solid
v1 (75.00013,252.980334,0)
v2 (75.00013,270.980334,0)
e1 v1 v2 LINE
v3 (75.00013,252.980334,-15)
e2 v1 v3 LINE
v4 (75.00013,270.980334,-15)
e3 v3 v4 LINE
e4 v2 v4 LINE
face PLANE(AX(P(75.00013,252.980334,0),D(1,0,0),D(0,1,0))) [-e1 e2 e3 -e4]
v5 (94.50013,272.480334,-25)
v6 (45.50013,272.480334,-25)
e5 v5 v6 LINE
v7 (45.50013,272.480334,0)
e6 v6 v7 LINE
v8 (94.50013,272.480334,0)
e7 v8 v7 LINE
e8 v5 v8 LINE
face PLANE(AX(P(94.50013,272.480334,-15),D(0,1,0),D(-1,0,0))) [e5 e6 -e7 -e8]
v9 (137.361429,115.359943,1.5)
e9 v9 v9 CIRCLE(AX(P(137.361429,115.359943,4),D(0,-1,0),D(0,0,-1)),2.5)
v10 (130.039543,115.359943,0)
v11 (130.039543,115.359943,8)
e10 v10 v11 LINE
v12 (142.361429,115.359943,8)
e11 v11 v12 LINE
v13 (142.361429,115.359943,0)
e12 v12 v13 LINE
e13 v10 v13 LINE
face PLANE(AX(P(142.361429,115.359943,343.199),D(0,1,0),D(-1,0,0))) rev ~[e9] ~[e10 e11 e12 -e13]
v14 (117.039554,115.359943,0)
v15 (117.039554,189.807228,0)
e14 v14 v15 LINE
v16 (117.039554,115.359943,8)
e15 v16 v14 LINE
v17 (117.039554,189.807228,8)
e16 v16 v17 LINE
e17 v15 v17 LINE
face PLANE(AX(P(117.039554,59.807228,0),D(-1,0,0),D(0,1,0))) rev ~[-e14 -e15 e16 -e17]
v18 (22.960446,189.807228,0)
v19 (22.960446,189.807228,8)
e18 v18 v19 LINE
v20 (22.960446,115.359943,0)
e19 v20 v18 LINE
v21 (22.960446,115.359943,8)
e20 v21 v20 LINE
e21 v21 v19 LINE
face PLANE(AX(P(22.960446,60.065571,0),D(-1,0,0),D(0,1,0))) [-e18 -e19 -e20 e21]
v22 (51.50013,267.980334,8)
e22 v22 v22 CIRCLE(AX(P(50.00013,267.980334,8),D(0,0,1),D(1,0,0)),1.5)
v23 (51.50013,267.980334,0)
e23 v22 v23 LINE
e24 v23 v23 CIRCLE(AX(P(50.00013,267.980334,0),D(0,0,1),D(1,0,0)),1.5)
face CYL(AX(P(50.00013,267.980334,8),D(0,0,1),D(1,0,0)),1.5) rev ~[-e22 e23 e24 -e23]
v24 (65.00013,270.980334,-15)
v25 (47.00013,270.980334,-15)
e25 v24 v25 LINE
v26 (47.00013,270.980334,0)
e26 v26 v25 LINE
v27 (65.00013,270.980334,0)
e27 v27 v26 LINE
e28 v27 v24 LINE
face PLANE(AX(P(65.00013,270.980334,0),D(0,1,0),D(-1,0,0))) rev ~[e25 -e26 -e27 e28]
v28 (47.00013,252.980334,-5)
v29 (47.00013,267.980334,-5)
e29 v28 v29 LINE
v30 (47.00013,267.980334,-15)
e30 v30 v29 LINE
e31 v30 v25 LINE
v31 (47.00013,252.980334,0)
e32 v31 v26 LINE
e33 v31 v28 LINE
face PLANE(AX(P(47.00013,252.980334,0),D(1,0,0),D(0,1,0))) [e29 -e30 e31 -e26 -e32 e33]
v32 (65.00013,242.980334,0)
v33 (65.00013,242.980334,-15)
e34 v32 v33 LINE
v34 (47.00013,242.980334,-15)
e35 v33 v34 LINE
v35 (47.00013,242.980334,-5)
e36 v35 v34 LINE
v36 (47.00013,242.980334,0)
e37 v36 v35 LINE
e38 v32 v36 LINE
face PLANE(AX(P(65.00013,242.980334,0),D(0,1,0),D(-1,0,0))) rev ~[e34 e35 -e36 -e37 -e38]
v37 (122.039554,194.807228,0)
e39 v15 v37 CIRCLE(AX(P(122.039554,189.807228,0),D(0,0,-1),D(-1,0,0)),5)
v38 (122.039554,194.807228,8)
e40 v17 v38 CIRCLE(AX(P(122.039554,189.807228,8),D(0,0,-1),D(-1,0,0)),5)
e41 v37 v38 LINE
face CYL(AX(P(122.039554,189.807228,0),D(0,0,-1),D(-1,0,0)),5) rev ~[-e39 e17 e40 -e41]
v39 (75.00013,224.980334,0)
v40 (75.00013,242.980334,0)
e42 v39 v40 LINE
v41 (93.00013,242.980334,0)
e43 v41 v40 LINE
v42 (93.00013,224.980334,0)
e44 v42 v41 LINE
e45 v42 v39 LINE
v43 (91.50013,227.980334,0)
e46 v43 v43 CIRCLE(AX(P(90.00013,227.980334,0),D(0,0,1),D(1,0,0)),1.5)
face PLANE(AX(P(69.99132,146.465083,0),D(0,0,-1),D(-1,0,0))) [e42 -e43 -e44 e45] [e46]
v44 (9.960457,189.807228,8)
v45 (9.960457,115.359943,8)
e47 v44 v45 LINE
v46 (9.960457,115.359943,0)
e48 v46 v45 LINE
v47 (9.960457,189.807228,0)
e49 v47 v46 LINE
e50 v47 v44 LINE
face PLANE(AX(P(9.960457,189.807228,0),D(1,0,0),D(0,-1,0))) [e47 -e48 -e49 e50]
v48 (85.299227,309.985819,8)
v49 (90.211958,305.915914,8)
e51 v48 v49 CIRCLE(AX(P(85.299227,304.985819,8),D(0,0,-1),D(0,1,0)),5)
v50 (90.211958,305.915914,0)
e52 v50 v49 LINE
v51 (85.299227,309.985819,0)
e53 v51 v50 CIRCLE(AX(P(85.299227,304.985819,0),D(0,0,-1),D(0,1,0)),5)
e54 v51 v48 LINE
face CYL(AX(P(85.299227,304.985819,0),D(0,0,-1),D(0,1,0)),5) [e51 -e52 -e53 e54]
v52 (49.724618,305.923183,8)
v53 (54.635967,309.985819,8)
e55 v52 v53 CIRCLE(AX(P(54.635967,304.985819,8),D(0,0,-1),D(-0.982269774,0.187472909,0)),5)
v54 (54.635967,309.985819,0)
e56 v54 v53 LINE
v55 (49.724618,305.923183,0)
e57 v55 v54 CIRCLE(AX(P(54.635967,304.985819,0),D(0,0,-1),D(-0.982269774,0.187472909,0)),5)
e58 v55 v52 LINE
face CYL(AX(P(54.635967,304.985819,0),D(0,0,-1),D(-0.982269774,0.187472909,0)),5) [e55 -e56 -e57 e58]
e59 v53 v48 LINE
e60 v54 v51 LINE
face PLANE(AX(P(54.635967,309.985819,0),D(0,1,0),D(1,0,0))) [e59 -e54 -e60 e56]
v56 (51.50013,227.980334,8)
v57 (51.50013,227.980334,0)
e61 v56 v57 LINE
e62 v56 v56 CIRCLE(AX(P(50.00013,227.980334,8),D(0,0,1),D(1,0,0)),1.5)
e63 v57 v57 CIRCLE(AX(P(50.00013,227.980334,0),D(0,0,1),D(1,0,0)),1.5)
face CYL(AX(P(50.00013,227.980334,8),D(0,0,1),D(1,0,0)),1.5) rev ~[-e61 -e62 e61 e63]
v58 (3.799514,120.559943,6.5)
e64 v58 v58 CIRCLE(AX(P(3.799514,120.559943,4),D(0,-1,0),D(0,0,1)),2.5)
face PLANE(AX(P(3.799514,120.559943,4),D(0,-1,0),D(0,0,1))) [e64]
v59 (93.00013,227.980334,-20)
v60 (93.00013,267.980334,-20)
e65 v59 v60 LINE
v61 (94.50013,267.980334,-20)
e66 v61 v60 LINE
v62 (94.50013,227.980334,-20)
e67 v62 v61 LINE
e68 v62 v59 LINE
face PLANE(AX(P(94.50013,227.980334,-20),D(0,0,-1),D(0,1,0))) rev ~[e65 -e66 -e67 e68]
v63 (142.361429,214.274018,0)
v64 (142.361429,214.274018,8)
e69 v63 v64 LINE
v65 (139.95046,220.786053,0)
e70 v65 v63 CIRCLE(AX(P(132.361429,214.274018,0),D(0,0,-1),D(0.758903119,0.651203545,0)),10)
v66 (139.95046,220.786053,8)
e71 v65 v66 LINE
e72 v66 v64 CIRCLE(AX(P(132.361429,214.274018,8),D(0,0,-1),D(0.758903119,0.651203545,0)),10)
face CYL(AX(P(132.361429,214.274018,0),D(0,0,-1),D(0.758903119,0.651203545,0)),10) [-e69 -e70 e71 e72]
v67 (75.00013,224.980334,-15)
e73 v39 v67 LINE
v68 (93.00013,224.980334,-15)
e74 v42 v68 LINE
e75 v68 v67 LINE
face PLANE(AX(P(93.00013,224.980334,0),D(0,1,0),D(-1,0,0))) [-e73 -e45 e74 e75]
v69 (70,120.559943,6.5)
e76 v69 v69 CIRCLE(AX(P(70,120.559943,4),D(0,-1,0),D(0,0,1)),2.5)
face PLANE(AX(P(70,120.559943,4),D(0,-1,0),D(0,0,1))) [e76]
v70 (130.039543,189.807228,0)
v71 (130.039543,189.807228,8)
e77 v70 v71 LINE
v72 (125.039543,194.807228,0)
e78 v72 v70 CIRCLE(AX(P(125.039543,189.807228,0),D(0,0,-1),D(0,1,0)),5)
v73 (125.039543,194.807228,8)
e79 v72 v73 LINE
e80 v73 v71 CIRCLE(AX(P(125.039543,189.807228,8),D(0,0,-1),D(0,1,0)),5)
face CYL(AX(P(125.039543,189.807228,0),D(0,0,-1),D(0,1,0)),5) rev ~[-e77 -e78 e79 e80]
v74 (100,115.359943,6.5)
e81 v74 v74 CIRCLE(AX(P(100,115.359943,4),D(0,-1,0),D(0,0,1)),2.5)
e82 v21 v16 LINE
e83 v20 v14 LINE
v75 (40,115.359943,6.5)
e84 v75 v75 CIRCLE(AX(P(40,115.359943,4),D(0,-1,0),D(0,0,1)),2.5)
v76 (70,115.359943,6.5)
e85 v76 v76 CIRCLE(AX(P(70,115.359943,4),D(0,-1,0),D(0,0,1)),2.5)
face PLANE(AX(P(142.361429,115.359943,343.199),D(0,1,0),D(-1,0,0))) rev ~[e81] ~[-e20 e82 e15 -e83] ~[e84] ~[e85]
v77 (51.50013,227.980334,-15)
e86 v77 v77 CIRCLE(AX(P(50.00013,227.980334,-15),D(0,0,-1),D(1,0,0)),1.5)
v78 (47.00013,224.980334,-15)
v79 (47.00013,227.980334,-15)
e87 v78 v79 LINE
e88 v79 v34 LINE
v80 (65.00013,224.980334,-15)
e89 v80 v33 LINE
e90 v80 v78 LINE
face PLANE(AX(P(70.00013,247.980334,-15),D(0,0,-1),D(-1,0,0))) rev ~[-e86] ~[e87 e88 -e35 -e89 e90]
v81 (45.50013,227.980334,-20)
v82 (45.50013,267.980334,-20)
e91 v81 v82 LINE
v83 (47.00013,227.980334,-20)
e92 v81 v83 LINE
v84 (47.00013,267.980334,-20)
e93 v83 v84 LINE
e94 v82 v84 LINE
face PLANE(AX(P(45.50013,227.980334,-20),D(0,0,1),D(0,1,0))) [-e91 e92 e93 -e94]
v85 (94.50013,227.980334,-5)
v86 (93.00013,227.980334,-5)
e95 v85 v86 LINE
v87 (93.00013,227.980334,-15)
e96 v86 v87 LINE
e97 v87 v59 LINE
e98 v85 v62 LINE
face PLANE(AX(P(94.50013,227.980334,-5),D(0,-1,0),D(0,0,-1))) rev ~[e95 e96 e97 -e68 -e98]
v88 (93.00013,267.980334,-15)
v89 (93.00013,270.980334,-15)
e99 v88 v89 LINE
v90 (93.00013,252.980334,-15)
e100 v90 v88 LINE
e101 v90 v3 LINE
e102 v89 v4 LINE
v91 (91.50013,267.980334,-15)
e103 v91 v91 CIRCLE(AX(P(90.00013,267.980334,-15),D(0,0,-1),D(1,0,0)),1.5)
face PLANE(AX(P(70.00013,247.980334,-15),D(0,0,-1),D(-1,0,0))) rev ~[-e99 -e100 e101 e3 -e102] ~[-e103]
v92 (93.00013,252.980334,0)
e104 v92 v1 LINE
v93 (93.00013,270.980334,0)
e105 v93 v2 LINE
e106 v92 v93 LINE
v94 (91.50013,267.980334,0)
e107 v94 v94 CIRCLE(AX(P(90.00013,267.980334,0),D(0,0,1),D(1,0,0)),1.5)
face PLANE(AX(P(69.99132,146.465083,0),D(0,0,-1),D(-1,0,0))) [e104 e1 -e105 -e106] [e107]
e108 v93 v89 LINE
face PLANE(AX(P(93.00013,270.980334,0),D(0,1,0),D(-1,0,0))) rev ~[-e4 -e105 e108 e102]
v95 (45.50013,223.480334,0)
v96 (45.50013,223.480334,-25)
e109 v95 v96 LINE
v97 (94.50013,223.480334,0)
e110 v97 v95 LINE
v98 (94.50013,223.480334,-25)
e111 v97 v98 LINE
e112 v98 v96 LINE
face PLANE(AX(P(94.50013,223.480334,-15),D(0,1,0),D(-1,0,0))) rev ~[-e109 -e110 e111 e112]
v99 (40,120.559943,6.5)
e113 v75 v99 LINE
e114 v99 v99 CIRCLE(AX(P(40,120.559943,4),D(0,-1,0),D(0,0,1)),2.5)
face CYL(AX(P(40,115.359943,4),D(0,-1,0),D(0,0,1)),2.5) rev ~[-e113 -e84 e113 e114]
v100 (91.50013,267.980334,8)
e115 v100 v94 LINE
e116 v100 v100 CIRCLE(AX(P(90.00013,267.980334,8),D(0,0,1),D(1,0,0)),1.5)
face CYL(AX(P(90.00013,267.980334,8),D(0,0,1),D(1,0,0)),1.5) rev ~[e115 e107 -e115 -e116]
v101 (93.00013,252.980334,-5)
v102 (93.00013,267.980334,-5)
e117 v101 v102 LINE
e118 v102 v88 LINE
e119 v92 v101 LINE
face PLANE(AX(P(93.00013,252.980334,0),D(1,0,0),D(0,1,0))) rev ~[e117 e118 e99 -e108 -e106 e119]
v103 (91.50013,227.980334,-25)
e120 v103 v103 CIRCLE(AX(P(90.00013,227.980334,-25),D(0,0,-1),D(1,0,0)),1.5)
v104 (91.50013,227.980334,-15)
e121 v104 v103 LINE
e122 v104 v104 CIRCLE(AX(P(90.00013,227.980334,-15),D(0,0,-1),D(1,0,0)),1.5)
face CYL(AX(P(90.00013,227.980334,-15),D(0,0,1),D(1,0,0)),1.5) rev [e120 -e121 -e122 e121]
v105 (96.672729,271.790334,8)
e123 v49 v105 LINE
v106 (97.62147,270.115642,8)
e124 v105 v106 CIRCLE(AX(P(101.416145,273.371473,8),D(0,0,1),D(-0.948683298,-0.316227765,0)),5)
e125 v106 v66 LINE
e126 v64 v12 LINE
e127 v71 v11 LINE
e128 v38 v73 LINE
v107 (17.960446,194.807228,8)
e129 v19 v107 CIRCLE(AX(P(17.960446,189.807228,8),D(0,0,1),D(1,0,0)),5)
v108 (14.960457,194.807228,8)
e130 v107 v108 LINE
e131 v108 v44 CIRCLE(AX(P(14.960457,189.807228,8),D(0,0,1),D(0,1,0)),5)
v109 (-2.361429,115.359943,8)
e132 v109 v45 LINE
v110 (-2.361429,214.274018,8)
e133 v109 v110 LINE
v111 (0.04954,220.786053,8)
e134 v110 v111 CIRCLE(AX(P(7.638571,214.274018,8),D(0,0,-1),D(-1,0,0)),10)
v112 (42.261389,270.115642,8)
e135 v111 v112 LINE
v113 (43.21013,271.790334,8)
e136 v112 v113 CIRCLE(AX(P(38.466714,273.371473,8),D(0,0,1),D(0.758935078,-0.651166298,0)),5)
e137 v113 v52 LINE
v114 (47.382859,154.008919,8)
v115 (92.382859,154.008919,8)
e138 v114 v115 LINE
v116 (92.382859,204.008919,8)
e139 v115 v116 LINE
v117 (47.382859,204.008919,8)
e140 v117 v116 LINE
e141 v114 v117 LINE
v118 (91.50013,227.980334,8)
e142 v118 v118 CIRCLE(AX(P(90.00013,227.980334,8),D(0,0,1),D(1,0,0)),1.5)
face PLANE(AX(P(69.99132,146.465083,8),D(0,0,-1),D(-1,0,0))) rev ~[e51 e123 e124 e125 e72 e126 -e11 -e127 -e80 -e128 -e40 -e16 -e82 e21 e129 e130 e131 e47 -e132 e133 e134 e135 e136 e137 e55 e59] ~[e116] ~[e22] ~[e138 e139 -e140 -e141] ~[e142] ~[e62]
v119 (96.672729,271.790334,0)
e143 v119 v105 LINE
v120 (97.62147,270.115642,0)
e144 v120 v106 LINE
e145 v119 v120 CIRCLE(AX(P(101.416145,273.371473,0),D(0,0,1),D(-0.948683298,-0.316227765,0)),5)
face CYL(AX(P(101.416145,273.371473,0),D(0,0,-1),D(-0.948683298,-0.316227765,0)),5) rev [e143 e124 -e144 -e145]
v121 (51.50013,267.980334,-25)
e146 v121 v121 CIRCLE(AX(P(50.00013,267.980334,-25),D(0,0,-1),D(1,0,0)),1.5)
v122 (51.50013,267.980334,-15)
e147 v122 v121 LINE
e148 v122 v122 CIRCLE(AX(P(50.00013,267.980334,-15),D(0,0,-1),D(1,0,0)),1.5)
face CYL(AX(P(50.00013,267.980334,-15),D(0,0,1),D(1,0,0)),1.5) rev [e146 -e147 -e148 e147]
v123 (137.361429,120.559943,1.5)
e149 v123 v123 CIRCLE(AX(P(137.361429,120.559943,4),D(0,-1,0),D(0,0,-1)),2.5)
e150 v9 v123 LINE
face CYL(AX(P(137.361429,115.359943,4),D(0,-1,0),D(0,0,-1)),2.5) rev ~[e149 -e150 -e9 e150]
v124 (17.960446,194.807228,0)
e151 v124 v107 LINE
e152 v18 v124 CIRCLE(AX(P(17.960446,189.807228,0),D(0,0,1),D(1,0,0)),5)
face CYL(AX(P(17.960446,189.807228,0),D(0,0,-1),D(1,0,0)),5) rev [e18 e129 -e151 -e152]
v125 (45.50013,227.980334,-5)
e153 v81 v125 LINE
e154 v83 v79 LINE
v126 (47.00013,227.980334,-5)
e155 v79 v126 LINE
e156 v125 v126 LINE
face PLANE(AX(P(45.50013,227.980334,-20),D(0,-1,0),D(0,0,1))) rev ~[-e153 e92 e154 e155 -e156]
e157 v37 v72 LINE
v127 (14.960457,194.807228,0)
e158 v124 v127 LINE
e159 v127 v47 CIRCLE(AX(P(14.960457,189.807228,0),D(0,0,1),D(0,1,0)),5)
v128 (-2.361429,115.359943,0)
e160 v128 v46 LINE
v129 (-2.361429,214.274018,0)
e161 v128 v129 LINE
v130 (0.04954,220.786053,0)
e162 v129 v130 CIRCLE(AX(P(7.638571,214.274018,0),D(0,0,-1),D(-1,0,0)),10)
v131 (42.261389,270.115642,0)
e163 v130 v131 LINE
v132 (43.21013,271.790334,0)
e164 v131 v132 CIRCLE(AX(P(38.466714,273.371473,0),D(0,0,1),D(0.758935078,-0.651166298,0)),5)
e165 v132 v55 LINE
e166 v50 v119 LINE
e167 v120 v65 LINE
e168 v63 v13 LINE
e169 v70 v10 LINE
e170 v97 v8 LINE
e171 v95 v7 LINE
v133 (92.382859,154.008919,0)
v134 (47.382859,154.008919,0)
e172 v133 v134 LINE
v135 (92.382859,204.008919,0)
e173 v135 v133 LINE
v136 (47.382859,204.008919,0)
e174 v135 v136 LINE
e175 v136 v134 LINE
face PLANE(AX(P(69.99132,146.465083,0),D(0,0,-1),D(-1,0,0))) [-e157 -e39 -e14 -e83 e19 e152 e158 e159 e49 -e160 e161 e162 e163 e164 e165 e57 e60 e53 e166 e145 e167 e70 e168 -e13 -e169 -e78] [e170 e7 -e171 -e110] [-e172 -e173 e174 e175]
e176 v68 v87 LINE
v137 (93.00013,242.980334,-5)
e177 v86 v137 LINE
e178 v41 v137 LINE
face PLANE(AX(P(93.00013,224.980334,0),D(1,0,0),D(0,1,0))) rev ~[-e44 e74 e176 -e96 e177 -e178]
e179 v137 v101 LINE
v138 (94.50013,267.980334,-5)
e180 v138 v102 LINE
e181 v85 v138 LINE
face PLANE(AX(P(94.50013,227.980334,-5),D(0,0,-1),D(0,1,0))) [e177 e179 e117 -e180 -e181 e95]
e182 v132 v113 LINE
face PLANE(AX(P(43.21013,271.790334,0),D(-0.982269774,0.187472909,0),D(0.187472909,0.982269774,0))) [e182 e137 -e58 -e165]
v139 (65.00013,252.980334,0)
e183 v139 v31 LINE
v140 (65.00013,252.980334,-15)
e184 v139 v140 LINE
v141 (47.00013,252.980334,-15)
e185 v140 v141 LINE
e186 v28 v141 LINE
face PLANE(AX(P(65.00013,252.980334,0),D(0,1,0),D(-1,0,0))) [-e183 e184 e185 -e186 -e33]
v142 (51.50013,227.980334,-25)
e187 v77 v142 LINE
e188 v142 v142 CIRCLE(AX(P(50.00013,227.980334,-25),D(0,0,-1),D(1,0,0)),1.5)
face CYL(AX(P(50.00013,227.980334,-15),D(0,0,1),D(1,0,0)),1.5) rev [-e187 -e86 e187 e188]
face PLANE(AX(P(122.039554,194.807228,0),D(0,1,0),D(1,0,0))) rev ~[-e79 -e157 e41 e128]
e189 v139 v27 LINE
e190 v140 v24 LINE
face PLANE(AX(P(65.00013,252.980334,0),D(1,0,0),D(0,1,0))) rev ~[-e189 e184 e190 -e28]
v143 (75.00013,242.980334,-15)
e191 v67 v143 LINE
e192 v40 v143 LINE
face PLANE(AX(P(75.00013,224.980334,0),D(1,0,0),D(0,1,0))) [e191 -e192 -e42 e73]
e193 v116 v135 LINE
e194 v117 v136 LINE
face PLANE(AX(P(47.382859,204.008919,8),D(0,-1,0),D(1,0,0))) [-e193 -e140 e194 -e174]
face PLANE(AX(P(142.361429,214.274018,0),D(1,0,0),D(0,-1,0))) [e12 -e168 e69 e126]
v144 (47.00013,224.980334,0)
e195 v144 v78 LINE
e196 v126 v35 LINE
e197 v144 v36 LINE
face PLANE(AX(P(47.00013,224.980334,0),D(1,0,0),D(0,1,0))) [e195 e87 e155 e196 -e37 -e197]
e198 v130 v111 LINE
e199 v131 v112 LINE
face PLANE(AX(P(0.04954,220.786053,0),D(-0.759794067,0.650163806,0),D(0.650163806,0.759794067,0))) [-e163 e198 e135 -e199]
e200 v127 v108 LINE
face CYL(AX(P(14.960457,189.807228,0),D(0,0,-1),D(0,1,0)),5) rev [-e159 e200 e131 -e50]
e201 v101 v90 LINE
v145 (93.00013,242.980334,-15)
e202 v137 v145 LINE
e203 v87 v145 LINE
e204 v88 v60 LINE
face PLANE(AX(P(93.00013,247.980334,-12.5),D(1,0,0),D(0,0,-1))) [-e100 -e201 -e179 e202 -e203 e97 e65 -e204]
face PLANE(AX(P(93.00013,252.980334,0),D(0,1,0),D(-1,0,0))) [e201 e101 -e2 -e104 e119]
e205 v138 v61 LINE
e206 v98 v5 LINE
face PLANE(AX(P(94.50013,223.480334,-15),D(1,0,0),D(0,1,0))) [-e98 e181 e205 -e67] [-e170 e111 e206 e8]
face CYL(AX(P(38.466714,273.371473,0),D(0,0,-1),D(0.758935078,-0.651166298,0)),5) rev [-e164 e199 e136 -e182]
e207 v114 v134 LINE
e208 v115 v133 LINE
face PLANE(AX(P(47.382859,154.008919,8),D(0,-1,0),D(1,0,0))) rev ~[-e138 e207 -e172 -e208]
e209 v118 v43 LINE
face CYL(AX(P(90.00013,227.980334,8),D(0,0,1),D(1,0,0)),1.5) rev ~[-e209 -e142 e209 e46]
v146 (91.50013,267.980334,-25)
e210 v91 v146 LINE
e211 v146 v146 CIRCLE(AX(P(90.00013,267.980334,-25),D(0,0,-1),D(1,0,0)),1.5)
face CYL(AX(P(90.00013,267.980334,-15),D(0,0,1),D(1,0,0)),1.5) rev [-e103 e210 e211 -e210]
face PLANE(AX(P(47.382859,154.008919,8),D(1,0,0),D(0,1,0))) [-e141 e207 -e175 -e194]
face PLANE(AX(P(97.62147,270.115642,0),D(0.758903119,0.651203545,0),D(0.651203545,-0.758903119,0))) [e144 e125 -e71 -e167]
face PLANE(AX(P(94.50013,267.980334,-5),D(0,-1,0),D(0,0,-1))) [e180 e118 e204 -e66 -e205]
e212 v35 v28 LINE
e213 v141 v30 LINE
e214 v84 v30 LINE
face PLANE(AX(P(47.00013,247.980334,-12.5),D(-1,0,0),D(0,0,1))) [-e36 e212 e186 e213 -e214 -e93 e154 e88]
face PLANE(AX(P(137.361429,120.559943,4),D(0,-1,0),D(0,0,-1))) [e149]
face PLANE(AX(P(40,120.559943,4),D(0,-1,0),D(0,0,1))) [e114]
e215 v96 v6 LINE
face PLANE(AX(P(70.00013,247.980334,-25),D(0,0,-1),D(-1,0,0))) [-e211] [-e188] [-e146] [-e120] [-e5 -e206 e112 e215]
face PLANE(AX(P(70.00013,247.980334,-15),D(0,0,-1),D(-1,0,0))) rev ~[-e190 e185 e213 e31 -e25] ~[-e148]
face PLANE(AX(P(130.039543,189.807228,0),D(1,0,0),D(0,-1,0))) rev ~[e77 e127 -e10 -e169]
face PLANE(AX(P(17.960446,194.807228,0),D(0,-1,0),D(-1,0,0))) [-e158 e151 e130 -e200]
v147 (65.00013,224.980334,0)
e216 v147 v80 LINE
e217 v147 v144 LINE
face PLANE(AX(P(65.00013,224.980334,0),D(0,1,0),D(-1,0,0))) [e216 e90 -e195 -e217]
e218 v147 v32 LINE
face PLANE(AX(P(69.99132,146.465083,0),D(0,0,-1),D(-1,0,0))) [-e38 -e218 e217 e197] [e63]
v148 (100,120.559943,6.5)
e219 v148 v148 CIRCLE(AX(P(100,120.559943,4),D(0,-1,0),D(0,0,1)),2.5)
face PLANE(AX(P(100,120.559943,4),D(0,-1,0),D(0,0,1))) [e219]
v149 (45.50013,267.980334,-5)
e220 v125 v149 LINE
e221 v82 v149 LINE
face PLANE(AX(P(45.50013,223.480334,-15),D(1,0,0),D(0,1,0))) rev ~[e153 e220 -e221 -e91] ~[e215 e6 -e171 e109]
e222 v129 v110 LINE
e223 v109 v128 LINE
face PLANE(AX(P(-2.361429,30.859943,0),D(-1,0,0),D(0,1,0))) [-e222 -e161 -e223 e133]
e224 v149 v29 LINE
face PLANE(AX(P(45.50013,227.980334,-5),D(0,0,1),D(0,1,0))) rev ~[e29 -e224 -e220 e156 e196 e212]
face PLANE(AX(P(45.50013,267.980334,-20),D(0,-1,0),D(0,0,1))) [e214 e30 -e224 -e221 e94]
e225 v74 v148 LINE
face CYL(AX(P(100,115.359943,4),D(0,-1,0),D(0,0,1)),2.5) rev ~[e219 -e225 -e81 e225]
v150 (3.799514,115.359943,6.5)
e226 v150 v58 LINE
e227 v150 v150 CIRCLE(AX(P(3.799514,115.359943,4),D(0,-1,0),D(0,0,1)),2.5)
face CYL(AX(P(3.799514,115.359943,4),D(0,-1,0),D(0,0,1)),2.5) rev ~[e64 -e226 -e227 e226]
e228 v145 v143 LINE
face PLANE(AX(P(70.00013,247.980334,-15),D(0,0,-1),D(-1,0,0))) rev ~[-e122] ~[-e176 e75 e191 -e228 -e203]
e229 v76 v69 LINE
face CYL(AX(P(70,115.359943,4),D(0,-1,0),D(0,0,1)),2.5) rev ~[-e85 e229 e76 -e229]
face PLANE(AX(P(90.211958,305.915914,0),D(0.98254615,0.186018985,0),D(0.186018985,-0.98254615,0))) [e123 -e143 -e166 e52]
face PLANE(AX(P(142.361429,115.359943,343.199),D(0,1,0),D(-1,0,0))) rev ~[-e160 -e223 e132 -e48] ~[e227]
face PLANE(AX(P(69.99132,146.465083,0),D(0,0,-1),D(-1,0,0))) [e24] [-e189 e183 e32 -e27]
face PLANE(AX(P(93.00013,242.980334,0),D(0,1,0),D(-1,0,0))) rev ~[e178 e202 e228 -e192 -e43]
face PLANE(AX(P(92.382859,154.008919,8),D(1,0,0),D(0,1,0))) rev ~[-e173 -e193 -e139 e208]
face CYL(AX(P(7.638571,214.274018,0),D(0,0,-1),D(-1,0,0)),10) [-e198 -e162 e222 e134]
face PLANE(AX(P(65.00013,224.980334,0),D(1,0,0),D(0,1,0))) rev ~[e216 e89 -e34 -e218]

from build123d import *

# Parameters (mm, degrees)
BOSS_EXTRUDE1_DEPTH    = 8
SKETCH2_W              = 45
SKETCH2_H              = 50
CUT_EXTRUDE1_DEPTH     = 342.206659287
SPLIT1_SURFACE_1_BACK  = 343.199
SPLIT1_SURFACE_1_DEPTH = 686.398
SPLIT1_SURFACE_2_BACK  = 343.199
SPLIT1_SURFACE_2_DEPTH = 686.398
SKETCH5_R              = 2.5
CUT_EXTRUDE6_DEPTH     = 5.2
SKETCH4_R              = 2.5
CUT_EXTRUDE7_DEPTH     = 5.2
SKETCH6_R              = 1.5
CUT_EXTRUDE8_DEPTH     = 342.206659287
SKETCH7_W              = 49
SKETCH7_H              = 49
SKETCH7_W_2            = 18
SKETCH7_H_2            = 18
BOSS_EXTRUDE2_DEPTH    = 15
SKETCH8_W              = 49
SKETCH8_H              = 49
SKETCH8_R              = 1.5
BOSS_EXTRUDE3_DEPTH    = 10
SKETCH9_W              = 15
SKETCH9_H              = 40
CUT_EXTRUDE9_DEPTH     = 1.5
SKETCH11_W             = 15
SKETCH11_H             = 40
CUT_EXTRUDE10_DEPTH    = 1.5


with BuildPart() as part:
    # Sketch1 → Boss-Extrude1 (new body)
    with BuildSketch(Plane.XY):
        with BuildLine():
            Line((70, 309.985818768), (85.299227191, 309.985818768))
            ThreePointArc((85.299227191, 309.985818768), (88.489017574, 308.836174247), (90.211957942, 305.915913694))
            Line((90.211957942, 305.915913694), (96.672728921, 271.790334282))
            ThreePointArc((96.672728921, 271.790334282), (97.06575438, 270.906904614), (97.621470019, 270.115641625))
            Line((97.621470019, 270.115641625), (139.950460317, 220.786053348))
            ThreePointArc((139.950460317, 220.786053348), (141.739336996, 217.746026552), (142.361429131, 214.274017901))
            Line((142.361429131, 214.274017901), (142.361429131, 30.859943174))
            ThreePointArc((142.361429131, 30.859943174), (140.896963037, 27.324409268), (137.361429131, 25.859943174))
            Line((137.361429131, 25.859943174), (114.717190871, 25.782318449))
            ThreePointArc((114.717190871, 25.782318449), (112.681998989, 25.341726514), (111.002773989, 24.110332733))
            Line((111.002773989, 24.110332733), (89.38285929, 0))
            Line((89.38285929, 0), (50.5, 0))
            Line((50.5, 0), (28.997226011, 24.110332733))
            ThreePointArc((28.997226011, 24.110332733), (27.318001011, 25.341726514), (25.282809129, 25.782318449))
            Line((25.282809129, 25.782318449), (2.638570869, 25.859943174))
            ThreePointArc((2.638570869, 25.859943174), (-0.896963037, 27.324409268), (-2.361429131, 30.859943174))
            Line((-2.361429131, 30.859943174), (-2.361429131, 214.274017901))
            ThreePointArc((-2.361429131, 214.274017901), (-1.739336996, 217.746026552), (0.049539683, 220.786053348))
            Line((0.049539683, 220.786053348), (42.261389271, 270.115641625))
            ThreePointArc((42.261389271, 270.115641625), (42.81710491, 270.906904614), (43.210130369, 271.790334282))
            Line((43.210130369, 271.790334282), (49.724618218, 305.923183314))
            ThreePointArc((49.724618218, 305.923183314), (51.449026762, 308.838533573), (54.635967087, 309.985818768))
            Line((54.635967087, 309.985818768), (70, 309.985818768))
        make_face()
        with BuildLine():
            Line((15.218798766, 54.807228462), (17.702103505, 54.807228462))
            ThreePointArc((17.702103505, 54.807228462), (21.420312934, 56.347361236), (22.960445707, 60.065570665))
            Line((22.960445707, 60.065570665), (22.960445707, 189.807228462))
            ThreePointArc((22.960445707, 189.807228462), (21.495979613, 193.342762368), (17.960445707, 194.807228462))
            Line((17.960445707, 194.807228462), (14.960456564, 194.807228462))
            ThreePointArc((14.960456564, 194.807228462), (11.424922658, 193.342762368), (9.960456564, 189.807228462))
            Line((9.960456564, 189.807228462), (9.960456564, 60.065570665))
            ThreePointArc((9.960456564, 60.065570665), (11.500589337, 56.347361236), (15.218798766, 54.807228462))
        make_face(mode=Mode.SUBTRACT)
        with BuildLine():
            Line((125.039543436, 54.807228462), (122.039554293, 54.807228462))
            ThreePointArc((122.039554293, 54.807228462), (118.504020387, 56.271694556), (117.039554293, 59.807228462))
            Line((117.039554293, 59.807228462), (117.039554293, 189.807228462))
            ThreePointArc((117.039554293, 189.807228462), (118.504020387, 193.342762368), (122.039554293, 194.807228462))
            Line((122.039554293, 194.807228462), (125.039543436, 194.807228462))
            ThreePointArc((125.039543436, 194.807228462), (128.575077342, 193.342762368), (130.039543436, 189.807228462))
            Line((130.039543436, 189.807228462), (130.039543436, 59.807228462))
            ThreePointArc((130.039543436, 59.807228462), (128.575077342, 56.271694556), (125.039543436, 54.807228462))
        make_face(mode=Mode.SUBTRACT)
    extrude(amount=BOSS_EXTRUDE1_DEPTH)

    # Sketch2 → Cut-Extrude1 (cut, through all)
    with BuildSketch(Plane.XY.offset(8)):
        with Locations((69.88285929, 179.008918923)):
            Rectangle(SKETCH2_W, SKETCH2_H)
    extrude(amount=-CUT_EXTRUDE1_DEPTH, mode=Mode.SUBTRACT)


with BuildPart() as body_2:
    # Split1: the piece behind the surface
    add(part.part)
    # Split1 surface: a surface, the sketch's curves swept straight by 686.398 mm
    with BuildLine(Plane(origin=(0, 0, 0), x_dir=(-1, 0, 0), z_dir=(0, 0, -1)).offset(-SPLIT1_SURFACE_1_BACK), mode=Mode.PRIVATE) as split1_surface_1_path:
        Line((-142.361429131, 115.359943174), (2.361429131, 115.359943174))
    split1_surface_1 = Shell.extrude(split1_surface_1_path.wire(), (0 * SPLIT1_SURFACE_1_DEPTH, 0 * SPLIT1_SURFACE_1_DEPTH, -1 * SPLIT1_SURFACE_1_DEPTH))
    split(bisect_by=split1_surface_1, keep=Keep.BOTTOM)

    # Sketch5 → Cut-Extrude6 (cut)
    with BuildSketch(Plane(origin=(0, 115.359943174, -115.359943174), x_dir=(1, 0, 0), z_dir=(0, -1, 0))):
        with Locations(Location((70, 119.359943174, 0), (0, 0, 270))):
            Circle(SKETCH5_R)
        with Locations(Location((40, 119.359943174, 0), (0, 0, 270))):
            Circle(SKETCH5_R)
        with Locations(Location((2.638570869, 119.359943174, 0), (0, 0, 270))):
            Circle(SKETCH5_R)
    extrude(amount=CUT_EXTRUDE6_DEPTH, mode=Mode.SUBTRACT)


with BuildPart() as part_1:
    add(part.part)

    # Split1: split by a surface, the side it looks to stays
    # Split1 surface: a surface, the sketch's curves swept straight by 686.398 mm
    with BuildLine(Plane(origin=(0, 0, 0), x_dir=(-1, 0, 0), z_dir=(0, 0, -1)).offset(-SPLIT1_SURFACE_2_BACK), mode=Mode.PRIVATE) as split1_surface_2_path:
        Line((-142.361429131, 115.359943174), (2.361429131, 115.359943174))
    split1_surface_2 = Shell.extrude(split1_surface_2_path.wire(), (0 * SPLIT1_SURFACE_2_DEPTH, 0 * SPLIT1_SURFACE_2_DEPTH, -1 * SPLIT1_SURFACE_2_DEPTH))
    split(bisect_by=split1_surface_2, keep=Keep.TOP)

    # Sketch4 → Cut-Extrude7 (cut)
    with BuildSketch(Plane(origin=(0, 115.359943174, 0), x_dir=(-1, 0, 0), z_dir=(0, -1, 0))):
        with Locations(Location((-70, -4, 0), (0, 0, 270))):
            Circle(SKETCH4_R)
        with Locations(Location((-40, -4, 0), (0, 0, 270))):
            Circle(SKETCH4_R)
        with Locations(Location((-100, -4, 0), (0, 0, 270))):
            Circle(SKETCH4_R)
        with Locations(Location((-137.361429131, -4, 0), (0, 0, 90))):
            Circle(SKETCH4_R)
        with Locations(Location((-3.799513716, -4, 0), (0, 0, 270))):
            Circle(SKETCH4_R)
    extrude(amount=-CUT_EXTRUDE7_DEPTH, mode=Mode.SUBTRACT)

    # Sketch6 → Cut-Extrude8 (cut, through all)
    with BuildSketch(Plane.XY.offset(8)):
        with Locations((50.000130369, 267.980334282)):
            Circle(SKETCH6_R)
        with Locations((90.000130369, 267.980334282)):
            Circle(SKETCH6_R)
        with Locations((90.000130369, 227.980334282)):
            Circle(SKETCH6_R)
        with Locations((50.000130369, 227.980334282)):
            Circle(SKETCH6_R)
    extrude(amount=-CUT_EXTRUDE8_DEPTH, mode=Mode.SUBTRACT)

    # Sketch7 → Boss-Extrude2 (add)
    with BuildSketch(Plane(origin=(0, 0, 0), x_dir=(-1, 0, 0), z_dir=(0, 0, -1))):
        with Locations((-70.000130369, 247.980334282)):
            Rectangle(SKETCH7_W, SKETCH7_H)
        with Locations((-56.000130369, 261.980334282)):
            Rectangle(SKETCH7_W_2, SKETCH7_H_2, mode=Mode.SUBTRACT)
        with Locations((-84.000130369, 261.980334282)):
            Rectangle(SKETCH7_W_2, SKETCH7_H_2, mode=Mode.SUBTRACT)
        with Locations((-84.000130369, 233.980334282)):
            Rectangle(SKETCH7_W_2, SKETCH7_H_2, mode=Mode.SUBTRACT)
        with Locations((-56.000130369, 233.980334282)):
            Rectangle(SKETCH7_W_2, SKETCH7_H_2, mode=Mode.SUBTRACT)
    extrude(amount=BOSS_EXTRUDE2_DEPTH)

    # Sketch8 → Boss-Extrude3 (add)
    with BuildSketch(Plane(origin=(0, 0, -15), x_dir=(-1, 0, 0), z_dir=(0, 0, -1))):
        with Locations((-70.000130369, 247.980334282)):
            Rectangle(SKETCH8_W, SKETCH8_H)
        with Locations(Location((-50.000130369, 267.980334282, 0), (0, 0, 180))):
            Circle(SKETCH8_R, mode=Mode.SUBTRACT)
        with Locations(Location((-90.000130369, 267.980334282, 0), (0, 0, 180))):
            Circle(SKETCH8_R, mode=Mode.SUBTRACT)
        with Locations(Location((-50.000130369, 227.980334282, 0), (0, 0, 180))):
            Circle(SKETCH8_R, mode=Mode.SUBTRACT)
        with Locations(Location((-90.000130369, 227.980334282, 0), (0, 0, 180))):
            Circle(SKETCH8_R, mode=Mode.SUBTRACT)
    extrude(amount=BOSS_EXTRUDE3_DEPTH)

    # Sketch9 → Cut-Extrude9 (cut)
    with BuildSketch(Plane.ZY.offset(-45.500130369)):
        with Locations((-12.5, 247.980334282)):
            Rectangle(SKETCH9_W, SKETCH9_H)
    extrude(amount=-CUT_EXTRUDE9_DEPTH, mode=Mode.SUBTRACT)

    # Sketch11 → Cut-Extrude10 (cut)
    with BuildSketch(Plane(origin=(94.500130369, 0, 0), x_dir=(0, 0, -1), z_dir=(1, 0, 0))):
        with Locations((12.5, 247.980334282)):
            Rectangle(SKETCH11_W, SKETCH11_H)
    extrude(amount=-CUT_EXTRUDE10_DEPTH, mode=Mode.SUBTRACT)


solid = part_1.part
